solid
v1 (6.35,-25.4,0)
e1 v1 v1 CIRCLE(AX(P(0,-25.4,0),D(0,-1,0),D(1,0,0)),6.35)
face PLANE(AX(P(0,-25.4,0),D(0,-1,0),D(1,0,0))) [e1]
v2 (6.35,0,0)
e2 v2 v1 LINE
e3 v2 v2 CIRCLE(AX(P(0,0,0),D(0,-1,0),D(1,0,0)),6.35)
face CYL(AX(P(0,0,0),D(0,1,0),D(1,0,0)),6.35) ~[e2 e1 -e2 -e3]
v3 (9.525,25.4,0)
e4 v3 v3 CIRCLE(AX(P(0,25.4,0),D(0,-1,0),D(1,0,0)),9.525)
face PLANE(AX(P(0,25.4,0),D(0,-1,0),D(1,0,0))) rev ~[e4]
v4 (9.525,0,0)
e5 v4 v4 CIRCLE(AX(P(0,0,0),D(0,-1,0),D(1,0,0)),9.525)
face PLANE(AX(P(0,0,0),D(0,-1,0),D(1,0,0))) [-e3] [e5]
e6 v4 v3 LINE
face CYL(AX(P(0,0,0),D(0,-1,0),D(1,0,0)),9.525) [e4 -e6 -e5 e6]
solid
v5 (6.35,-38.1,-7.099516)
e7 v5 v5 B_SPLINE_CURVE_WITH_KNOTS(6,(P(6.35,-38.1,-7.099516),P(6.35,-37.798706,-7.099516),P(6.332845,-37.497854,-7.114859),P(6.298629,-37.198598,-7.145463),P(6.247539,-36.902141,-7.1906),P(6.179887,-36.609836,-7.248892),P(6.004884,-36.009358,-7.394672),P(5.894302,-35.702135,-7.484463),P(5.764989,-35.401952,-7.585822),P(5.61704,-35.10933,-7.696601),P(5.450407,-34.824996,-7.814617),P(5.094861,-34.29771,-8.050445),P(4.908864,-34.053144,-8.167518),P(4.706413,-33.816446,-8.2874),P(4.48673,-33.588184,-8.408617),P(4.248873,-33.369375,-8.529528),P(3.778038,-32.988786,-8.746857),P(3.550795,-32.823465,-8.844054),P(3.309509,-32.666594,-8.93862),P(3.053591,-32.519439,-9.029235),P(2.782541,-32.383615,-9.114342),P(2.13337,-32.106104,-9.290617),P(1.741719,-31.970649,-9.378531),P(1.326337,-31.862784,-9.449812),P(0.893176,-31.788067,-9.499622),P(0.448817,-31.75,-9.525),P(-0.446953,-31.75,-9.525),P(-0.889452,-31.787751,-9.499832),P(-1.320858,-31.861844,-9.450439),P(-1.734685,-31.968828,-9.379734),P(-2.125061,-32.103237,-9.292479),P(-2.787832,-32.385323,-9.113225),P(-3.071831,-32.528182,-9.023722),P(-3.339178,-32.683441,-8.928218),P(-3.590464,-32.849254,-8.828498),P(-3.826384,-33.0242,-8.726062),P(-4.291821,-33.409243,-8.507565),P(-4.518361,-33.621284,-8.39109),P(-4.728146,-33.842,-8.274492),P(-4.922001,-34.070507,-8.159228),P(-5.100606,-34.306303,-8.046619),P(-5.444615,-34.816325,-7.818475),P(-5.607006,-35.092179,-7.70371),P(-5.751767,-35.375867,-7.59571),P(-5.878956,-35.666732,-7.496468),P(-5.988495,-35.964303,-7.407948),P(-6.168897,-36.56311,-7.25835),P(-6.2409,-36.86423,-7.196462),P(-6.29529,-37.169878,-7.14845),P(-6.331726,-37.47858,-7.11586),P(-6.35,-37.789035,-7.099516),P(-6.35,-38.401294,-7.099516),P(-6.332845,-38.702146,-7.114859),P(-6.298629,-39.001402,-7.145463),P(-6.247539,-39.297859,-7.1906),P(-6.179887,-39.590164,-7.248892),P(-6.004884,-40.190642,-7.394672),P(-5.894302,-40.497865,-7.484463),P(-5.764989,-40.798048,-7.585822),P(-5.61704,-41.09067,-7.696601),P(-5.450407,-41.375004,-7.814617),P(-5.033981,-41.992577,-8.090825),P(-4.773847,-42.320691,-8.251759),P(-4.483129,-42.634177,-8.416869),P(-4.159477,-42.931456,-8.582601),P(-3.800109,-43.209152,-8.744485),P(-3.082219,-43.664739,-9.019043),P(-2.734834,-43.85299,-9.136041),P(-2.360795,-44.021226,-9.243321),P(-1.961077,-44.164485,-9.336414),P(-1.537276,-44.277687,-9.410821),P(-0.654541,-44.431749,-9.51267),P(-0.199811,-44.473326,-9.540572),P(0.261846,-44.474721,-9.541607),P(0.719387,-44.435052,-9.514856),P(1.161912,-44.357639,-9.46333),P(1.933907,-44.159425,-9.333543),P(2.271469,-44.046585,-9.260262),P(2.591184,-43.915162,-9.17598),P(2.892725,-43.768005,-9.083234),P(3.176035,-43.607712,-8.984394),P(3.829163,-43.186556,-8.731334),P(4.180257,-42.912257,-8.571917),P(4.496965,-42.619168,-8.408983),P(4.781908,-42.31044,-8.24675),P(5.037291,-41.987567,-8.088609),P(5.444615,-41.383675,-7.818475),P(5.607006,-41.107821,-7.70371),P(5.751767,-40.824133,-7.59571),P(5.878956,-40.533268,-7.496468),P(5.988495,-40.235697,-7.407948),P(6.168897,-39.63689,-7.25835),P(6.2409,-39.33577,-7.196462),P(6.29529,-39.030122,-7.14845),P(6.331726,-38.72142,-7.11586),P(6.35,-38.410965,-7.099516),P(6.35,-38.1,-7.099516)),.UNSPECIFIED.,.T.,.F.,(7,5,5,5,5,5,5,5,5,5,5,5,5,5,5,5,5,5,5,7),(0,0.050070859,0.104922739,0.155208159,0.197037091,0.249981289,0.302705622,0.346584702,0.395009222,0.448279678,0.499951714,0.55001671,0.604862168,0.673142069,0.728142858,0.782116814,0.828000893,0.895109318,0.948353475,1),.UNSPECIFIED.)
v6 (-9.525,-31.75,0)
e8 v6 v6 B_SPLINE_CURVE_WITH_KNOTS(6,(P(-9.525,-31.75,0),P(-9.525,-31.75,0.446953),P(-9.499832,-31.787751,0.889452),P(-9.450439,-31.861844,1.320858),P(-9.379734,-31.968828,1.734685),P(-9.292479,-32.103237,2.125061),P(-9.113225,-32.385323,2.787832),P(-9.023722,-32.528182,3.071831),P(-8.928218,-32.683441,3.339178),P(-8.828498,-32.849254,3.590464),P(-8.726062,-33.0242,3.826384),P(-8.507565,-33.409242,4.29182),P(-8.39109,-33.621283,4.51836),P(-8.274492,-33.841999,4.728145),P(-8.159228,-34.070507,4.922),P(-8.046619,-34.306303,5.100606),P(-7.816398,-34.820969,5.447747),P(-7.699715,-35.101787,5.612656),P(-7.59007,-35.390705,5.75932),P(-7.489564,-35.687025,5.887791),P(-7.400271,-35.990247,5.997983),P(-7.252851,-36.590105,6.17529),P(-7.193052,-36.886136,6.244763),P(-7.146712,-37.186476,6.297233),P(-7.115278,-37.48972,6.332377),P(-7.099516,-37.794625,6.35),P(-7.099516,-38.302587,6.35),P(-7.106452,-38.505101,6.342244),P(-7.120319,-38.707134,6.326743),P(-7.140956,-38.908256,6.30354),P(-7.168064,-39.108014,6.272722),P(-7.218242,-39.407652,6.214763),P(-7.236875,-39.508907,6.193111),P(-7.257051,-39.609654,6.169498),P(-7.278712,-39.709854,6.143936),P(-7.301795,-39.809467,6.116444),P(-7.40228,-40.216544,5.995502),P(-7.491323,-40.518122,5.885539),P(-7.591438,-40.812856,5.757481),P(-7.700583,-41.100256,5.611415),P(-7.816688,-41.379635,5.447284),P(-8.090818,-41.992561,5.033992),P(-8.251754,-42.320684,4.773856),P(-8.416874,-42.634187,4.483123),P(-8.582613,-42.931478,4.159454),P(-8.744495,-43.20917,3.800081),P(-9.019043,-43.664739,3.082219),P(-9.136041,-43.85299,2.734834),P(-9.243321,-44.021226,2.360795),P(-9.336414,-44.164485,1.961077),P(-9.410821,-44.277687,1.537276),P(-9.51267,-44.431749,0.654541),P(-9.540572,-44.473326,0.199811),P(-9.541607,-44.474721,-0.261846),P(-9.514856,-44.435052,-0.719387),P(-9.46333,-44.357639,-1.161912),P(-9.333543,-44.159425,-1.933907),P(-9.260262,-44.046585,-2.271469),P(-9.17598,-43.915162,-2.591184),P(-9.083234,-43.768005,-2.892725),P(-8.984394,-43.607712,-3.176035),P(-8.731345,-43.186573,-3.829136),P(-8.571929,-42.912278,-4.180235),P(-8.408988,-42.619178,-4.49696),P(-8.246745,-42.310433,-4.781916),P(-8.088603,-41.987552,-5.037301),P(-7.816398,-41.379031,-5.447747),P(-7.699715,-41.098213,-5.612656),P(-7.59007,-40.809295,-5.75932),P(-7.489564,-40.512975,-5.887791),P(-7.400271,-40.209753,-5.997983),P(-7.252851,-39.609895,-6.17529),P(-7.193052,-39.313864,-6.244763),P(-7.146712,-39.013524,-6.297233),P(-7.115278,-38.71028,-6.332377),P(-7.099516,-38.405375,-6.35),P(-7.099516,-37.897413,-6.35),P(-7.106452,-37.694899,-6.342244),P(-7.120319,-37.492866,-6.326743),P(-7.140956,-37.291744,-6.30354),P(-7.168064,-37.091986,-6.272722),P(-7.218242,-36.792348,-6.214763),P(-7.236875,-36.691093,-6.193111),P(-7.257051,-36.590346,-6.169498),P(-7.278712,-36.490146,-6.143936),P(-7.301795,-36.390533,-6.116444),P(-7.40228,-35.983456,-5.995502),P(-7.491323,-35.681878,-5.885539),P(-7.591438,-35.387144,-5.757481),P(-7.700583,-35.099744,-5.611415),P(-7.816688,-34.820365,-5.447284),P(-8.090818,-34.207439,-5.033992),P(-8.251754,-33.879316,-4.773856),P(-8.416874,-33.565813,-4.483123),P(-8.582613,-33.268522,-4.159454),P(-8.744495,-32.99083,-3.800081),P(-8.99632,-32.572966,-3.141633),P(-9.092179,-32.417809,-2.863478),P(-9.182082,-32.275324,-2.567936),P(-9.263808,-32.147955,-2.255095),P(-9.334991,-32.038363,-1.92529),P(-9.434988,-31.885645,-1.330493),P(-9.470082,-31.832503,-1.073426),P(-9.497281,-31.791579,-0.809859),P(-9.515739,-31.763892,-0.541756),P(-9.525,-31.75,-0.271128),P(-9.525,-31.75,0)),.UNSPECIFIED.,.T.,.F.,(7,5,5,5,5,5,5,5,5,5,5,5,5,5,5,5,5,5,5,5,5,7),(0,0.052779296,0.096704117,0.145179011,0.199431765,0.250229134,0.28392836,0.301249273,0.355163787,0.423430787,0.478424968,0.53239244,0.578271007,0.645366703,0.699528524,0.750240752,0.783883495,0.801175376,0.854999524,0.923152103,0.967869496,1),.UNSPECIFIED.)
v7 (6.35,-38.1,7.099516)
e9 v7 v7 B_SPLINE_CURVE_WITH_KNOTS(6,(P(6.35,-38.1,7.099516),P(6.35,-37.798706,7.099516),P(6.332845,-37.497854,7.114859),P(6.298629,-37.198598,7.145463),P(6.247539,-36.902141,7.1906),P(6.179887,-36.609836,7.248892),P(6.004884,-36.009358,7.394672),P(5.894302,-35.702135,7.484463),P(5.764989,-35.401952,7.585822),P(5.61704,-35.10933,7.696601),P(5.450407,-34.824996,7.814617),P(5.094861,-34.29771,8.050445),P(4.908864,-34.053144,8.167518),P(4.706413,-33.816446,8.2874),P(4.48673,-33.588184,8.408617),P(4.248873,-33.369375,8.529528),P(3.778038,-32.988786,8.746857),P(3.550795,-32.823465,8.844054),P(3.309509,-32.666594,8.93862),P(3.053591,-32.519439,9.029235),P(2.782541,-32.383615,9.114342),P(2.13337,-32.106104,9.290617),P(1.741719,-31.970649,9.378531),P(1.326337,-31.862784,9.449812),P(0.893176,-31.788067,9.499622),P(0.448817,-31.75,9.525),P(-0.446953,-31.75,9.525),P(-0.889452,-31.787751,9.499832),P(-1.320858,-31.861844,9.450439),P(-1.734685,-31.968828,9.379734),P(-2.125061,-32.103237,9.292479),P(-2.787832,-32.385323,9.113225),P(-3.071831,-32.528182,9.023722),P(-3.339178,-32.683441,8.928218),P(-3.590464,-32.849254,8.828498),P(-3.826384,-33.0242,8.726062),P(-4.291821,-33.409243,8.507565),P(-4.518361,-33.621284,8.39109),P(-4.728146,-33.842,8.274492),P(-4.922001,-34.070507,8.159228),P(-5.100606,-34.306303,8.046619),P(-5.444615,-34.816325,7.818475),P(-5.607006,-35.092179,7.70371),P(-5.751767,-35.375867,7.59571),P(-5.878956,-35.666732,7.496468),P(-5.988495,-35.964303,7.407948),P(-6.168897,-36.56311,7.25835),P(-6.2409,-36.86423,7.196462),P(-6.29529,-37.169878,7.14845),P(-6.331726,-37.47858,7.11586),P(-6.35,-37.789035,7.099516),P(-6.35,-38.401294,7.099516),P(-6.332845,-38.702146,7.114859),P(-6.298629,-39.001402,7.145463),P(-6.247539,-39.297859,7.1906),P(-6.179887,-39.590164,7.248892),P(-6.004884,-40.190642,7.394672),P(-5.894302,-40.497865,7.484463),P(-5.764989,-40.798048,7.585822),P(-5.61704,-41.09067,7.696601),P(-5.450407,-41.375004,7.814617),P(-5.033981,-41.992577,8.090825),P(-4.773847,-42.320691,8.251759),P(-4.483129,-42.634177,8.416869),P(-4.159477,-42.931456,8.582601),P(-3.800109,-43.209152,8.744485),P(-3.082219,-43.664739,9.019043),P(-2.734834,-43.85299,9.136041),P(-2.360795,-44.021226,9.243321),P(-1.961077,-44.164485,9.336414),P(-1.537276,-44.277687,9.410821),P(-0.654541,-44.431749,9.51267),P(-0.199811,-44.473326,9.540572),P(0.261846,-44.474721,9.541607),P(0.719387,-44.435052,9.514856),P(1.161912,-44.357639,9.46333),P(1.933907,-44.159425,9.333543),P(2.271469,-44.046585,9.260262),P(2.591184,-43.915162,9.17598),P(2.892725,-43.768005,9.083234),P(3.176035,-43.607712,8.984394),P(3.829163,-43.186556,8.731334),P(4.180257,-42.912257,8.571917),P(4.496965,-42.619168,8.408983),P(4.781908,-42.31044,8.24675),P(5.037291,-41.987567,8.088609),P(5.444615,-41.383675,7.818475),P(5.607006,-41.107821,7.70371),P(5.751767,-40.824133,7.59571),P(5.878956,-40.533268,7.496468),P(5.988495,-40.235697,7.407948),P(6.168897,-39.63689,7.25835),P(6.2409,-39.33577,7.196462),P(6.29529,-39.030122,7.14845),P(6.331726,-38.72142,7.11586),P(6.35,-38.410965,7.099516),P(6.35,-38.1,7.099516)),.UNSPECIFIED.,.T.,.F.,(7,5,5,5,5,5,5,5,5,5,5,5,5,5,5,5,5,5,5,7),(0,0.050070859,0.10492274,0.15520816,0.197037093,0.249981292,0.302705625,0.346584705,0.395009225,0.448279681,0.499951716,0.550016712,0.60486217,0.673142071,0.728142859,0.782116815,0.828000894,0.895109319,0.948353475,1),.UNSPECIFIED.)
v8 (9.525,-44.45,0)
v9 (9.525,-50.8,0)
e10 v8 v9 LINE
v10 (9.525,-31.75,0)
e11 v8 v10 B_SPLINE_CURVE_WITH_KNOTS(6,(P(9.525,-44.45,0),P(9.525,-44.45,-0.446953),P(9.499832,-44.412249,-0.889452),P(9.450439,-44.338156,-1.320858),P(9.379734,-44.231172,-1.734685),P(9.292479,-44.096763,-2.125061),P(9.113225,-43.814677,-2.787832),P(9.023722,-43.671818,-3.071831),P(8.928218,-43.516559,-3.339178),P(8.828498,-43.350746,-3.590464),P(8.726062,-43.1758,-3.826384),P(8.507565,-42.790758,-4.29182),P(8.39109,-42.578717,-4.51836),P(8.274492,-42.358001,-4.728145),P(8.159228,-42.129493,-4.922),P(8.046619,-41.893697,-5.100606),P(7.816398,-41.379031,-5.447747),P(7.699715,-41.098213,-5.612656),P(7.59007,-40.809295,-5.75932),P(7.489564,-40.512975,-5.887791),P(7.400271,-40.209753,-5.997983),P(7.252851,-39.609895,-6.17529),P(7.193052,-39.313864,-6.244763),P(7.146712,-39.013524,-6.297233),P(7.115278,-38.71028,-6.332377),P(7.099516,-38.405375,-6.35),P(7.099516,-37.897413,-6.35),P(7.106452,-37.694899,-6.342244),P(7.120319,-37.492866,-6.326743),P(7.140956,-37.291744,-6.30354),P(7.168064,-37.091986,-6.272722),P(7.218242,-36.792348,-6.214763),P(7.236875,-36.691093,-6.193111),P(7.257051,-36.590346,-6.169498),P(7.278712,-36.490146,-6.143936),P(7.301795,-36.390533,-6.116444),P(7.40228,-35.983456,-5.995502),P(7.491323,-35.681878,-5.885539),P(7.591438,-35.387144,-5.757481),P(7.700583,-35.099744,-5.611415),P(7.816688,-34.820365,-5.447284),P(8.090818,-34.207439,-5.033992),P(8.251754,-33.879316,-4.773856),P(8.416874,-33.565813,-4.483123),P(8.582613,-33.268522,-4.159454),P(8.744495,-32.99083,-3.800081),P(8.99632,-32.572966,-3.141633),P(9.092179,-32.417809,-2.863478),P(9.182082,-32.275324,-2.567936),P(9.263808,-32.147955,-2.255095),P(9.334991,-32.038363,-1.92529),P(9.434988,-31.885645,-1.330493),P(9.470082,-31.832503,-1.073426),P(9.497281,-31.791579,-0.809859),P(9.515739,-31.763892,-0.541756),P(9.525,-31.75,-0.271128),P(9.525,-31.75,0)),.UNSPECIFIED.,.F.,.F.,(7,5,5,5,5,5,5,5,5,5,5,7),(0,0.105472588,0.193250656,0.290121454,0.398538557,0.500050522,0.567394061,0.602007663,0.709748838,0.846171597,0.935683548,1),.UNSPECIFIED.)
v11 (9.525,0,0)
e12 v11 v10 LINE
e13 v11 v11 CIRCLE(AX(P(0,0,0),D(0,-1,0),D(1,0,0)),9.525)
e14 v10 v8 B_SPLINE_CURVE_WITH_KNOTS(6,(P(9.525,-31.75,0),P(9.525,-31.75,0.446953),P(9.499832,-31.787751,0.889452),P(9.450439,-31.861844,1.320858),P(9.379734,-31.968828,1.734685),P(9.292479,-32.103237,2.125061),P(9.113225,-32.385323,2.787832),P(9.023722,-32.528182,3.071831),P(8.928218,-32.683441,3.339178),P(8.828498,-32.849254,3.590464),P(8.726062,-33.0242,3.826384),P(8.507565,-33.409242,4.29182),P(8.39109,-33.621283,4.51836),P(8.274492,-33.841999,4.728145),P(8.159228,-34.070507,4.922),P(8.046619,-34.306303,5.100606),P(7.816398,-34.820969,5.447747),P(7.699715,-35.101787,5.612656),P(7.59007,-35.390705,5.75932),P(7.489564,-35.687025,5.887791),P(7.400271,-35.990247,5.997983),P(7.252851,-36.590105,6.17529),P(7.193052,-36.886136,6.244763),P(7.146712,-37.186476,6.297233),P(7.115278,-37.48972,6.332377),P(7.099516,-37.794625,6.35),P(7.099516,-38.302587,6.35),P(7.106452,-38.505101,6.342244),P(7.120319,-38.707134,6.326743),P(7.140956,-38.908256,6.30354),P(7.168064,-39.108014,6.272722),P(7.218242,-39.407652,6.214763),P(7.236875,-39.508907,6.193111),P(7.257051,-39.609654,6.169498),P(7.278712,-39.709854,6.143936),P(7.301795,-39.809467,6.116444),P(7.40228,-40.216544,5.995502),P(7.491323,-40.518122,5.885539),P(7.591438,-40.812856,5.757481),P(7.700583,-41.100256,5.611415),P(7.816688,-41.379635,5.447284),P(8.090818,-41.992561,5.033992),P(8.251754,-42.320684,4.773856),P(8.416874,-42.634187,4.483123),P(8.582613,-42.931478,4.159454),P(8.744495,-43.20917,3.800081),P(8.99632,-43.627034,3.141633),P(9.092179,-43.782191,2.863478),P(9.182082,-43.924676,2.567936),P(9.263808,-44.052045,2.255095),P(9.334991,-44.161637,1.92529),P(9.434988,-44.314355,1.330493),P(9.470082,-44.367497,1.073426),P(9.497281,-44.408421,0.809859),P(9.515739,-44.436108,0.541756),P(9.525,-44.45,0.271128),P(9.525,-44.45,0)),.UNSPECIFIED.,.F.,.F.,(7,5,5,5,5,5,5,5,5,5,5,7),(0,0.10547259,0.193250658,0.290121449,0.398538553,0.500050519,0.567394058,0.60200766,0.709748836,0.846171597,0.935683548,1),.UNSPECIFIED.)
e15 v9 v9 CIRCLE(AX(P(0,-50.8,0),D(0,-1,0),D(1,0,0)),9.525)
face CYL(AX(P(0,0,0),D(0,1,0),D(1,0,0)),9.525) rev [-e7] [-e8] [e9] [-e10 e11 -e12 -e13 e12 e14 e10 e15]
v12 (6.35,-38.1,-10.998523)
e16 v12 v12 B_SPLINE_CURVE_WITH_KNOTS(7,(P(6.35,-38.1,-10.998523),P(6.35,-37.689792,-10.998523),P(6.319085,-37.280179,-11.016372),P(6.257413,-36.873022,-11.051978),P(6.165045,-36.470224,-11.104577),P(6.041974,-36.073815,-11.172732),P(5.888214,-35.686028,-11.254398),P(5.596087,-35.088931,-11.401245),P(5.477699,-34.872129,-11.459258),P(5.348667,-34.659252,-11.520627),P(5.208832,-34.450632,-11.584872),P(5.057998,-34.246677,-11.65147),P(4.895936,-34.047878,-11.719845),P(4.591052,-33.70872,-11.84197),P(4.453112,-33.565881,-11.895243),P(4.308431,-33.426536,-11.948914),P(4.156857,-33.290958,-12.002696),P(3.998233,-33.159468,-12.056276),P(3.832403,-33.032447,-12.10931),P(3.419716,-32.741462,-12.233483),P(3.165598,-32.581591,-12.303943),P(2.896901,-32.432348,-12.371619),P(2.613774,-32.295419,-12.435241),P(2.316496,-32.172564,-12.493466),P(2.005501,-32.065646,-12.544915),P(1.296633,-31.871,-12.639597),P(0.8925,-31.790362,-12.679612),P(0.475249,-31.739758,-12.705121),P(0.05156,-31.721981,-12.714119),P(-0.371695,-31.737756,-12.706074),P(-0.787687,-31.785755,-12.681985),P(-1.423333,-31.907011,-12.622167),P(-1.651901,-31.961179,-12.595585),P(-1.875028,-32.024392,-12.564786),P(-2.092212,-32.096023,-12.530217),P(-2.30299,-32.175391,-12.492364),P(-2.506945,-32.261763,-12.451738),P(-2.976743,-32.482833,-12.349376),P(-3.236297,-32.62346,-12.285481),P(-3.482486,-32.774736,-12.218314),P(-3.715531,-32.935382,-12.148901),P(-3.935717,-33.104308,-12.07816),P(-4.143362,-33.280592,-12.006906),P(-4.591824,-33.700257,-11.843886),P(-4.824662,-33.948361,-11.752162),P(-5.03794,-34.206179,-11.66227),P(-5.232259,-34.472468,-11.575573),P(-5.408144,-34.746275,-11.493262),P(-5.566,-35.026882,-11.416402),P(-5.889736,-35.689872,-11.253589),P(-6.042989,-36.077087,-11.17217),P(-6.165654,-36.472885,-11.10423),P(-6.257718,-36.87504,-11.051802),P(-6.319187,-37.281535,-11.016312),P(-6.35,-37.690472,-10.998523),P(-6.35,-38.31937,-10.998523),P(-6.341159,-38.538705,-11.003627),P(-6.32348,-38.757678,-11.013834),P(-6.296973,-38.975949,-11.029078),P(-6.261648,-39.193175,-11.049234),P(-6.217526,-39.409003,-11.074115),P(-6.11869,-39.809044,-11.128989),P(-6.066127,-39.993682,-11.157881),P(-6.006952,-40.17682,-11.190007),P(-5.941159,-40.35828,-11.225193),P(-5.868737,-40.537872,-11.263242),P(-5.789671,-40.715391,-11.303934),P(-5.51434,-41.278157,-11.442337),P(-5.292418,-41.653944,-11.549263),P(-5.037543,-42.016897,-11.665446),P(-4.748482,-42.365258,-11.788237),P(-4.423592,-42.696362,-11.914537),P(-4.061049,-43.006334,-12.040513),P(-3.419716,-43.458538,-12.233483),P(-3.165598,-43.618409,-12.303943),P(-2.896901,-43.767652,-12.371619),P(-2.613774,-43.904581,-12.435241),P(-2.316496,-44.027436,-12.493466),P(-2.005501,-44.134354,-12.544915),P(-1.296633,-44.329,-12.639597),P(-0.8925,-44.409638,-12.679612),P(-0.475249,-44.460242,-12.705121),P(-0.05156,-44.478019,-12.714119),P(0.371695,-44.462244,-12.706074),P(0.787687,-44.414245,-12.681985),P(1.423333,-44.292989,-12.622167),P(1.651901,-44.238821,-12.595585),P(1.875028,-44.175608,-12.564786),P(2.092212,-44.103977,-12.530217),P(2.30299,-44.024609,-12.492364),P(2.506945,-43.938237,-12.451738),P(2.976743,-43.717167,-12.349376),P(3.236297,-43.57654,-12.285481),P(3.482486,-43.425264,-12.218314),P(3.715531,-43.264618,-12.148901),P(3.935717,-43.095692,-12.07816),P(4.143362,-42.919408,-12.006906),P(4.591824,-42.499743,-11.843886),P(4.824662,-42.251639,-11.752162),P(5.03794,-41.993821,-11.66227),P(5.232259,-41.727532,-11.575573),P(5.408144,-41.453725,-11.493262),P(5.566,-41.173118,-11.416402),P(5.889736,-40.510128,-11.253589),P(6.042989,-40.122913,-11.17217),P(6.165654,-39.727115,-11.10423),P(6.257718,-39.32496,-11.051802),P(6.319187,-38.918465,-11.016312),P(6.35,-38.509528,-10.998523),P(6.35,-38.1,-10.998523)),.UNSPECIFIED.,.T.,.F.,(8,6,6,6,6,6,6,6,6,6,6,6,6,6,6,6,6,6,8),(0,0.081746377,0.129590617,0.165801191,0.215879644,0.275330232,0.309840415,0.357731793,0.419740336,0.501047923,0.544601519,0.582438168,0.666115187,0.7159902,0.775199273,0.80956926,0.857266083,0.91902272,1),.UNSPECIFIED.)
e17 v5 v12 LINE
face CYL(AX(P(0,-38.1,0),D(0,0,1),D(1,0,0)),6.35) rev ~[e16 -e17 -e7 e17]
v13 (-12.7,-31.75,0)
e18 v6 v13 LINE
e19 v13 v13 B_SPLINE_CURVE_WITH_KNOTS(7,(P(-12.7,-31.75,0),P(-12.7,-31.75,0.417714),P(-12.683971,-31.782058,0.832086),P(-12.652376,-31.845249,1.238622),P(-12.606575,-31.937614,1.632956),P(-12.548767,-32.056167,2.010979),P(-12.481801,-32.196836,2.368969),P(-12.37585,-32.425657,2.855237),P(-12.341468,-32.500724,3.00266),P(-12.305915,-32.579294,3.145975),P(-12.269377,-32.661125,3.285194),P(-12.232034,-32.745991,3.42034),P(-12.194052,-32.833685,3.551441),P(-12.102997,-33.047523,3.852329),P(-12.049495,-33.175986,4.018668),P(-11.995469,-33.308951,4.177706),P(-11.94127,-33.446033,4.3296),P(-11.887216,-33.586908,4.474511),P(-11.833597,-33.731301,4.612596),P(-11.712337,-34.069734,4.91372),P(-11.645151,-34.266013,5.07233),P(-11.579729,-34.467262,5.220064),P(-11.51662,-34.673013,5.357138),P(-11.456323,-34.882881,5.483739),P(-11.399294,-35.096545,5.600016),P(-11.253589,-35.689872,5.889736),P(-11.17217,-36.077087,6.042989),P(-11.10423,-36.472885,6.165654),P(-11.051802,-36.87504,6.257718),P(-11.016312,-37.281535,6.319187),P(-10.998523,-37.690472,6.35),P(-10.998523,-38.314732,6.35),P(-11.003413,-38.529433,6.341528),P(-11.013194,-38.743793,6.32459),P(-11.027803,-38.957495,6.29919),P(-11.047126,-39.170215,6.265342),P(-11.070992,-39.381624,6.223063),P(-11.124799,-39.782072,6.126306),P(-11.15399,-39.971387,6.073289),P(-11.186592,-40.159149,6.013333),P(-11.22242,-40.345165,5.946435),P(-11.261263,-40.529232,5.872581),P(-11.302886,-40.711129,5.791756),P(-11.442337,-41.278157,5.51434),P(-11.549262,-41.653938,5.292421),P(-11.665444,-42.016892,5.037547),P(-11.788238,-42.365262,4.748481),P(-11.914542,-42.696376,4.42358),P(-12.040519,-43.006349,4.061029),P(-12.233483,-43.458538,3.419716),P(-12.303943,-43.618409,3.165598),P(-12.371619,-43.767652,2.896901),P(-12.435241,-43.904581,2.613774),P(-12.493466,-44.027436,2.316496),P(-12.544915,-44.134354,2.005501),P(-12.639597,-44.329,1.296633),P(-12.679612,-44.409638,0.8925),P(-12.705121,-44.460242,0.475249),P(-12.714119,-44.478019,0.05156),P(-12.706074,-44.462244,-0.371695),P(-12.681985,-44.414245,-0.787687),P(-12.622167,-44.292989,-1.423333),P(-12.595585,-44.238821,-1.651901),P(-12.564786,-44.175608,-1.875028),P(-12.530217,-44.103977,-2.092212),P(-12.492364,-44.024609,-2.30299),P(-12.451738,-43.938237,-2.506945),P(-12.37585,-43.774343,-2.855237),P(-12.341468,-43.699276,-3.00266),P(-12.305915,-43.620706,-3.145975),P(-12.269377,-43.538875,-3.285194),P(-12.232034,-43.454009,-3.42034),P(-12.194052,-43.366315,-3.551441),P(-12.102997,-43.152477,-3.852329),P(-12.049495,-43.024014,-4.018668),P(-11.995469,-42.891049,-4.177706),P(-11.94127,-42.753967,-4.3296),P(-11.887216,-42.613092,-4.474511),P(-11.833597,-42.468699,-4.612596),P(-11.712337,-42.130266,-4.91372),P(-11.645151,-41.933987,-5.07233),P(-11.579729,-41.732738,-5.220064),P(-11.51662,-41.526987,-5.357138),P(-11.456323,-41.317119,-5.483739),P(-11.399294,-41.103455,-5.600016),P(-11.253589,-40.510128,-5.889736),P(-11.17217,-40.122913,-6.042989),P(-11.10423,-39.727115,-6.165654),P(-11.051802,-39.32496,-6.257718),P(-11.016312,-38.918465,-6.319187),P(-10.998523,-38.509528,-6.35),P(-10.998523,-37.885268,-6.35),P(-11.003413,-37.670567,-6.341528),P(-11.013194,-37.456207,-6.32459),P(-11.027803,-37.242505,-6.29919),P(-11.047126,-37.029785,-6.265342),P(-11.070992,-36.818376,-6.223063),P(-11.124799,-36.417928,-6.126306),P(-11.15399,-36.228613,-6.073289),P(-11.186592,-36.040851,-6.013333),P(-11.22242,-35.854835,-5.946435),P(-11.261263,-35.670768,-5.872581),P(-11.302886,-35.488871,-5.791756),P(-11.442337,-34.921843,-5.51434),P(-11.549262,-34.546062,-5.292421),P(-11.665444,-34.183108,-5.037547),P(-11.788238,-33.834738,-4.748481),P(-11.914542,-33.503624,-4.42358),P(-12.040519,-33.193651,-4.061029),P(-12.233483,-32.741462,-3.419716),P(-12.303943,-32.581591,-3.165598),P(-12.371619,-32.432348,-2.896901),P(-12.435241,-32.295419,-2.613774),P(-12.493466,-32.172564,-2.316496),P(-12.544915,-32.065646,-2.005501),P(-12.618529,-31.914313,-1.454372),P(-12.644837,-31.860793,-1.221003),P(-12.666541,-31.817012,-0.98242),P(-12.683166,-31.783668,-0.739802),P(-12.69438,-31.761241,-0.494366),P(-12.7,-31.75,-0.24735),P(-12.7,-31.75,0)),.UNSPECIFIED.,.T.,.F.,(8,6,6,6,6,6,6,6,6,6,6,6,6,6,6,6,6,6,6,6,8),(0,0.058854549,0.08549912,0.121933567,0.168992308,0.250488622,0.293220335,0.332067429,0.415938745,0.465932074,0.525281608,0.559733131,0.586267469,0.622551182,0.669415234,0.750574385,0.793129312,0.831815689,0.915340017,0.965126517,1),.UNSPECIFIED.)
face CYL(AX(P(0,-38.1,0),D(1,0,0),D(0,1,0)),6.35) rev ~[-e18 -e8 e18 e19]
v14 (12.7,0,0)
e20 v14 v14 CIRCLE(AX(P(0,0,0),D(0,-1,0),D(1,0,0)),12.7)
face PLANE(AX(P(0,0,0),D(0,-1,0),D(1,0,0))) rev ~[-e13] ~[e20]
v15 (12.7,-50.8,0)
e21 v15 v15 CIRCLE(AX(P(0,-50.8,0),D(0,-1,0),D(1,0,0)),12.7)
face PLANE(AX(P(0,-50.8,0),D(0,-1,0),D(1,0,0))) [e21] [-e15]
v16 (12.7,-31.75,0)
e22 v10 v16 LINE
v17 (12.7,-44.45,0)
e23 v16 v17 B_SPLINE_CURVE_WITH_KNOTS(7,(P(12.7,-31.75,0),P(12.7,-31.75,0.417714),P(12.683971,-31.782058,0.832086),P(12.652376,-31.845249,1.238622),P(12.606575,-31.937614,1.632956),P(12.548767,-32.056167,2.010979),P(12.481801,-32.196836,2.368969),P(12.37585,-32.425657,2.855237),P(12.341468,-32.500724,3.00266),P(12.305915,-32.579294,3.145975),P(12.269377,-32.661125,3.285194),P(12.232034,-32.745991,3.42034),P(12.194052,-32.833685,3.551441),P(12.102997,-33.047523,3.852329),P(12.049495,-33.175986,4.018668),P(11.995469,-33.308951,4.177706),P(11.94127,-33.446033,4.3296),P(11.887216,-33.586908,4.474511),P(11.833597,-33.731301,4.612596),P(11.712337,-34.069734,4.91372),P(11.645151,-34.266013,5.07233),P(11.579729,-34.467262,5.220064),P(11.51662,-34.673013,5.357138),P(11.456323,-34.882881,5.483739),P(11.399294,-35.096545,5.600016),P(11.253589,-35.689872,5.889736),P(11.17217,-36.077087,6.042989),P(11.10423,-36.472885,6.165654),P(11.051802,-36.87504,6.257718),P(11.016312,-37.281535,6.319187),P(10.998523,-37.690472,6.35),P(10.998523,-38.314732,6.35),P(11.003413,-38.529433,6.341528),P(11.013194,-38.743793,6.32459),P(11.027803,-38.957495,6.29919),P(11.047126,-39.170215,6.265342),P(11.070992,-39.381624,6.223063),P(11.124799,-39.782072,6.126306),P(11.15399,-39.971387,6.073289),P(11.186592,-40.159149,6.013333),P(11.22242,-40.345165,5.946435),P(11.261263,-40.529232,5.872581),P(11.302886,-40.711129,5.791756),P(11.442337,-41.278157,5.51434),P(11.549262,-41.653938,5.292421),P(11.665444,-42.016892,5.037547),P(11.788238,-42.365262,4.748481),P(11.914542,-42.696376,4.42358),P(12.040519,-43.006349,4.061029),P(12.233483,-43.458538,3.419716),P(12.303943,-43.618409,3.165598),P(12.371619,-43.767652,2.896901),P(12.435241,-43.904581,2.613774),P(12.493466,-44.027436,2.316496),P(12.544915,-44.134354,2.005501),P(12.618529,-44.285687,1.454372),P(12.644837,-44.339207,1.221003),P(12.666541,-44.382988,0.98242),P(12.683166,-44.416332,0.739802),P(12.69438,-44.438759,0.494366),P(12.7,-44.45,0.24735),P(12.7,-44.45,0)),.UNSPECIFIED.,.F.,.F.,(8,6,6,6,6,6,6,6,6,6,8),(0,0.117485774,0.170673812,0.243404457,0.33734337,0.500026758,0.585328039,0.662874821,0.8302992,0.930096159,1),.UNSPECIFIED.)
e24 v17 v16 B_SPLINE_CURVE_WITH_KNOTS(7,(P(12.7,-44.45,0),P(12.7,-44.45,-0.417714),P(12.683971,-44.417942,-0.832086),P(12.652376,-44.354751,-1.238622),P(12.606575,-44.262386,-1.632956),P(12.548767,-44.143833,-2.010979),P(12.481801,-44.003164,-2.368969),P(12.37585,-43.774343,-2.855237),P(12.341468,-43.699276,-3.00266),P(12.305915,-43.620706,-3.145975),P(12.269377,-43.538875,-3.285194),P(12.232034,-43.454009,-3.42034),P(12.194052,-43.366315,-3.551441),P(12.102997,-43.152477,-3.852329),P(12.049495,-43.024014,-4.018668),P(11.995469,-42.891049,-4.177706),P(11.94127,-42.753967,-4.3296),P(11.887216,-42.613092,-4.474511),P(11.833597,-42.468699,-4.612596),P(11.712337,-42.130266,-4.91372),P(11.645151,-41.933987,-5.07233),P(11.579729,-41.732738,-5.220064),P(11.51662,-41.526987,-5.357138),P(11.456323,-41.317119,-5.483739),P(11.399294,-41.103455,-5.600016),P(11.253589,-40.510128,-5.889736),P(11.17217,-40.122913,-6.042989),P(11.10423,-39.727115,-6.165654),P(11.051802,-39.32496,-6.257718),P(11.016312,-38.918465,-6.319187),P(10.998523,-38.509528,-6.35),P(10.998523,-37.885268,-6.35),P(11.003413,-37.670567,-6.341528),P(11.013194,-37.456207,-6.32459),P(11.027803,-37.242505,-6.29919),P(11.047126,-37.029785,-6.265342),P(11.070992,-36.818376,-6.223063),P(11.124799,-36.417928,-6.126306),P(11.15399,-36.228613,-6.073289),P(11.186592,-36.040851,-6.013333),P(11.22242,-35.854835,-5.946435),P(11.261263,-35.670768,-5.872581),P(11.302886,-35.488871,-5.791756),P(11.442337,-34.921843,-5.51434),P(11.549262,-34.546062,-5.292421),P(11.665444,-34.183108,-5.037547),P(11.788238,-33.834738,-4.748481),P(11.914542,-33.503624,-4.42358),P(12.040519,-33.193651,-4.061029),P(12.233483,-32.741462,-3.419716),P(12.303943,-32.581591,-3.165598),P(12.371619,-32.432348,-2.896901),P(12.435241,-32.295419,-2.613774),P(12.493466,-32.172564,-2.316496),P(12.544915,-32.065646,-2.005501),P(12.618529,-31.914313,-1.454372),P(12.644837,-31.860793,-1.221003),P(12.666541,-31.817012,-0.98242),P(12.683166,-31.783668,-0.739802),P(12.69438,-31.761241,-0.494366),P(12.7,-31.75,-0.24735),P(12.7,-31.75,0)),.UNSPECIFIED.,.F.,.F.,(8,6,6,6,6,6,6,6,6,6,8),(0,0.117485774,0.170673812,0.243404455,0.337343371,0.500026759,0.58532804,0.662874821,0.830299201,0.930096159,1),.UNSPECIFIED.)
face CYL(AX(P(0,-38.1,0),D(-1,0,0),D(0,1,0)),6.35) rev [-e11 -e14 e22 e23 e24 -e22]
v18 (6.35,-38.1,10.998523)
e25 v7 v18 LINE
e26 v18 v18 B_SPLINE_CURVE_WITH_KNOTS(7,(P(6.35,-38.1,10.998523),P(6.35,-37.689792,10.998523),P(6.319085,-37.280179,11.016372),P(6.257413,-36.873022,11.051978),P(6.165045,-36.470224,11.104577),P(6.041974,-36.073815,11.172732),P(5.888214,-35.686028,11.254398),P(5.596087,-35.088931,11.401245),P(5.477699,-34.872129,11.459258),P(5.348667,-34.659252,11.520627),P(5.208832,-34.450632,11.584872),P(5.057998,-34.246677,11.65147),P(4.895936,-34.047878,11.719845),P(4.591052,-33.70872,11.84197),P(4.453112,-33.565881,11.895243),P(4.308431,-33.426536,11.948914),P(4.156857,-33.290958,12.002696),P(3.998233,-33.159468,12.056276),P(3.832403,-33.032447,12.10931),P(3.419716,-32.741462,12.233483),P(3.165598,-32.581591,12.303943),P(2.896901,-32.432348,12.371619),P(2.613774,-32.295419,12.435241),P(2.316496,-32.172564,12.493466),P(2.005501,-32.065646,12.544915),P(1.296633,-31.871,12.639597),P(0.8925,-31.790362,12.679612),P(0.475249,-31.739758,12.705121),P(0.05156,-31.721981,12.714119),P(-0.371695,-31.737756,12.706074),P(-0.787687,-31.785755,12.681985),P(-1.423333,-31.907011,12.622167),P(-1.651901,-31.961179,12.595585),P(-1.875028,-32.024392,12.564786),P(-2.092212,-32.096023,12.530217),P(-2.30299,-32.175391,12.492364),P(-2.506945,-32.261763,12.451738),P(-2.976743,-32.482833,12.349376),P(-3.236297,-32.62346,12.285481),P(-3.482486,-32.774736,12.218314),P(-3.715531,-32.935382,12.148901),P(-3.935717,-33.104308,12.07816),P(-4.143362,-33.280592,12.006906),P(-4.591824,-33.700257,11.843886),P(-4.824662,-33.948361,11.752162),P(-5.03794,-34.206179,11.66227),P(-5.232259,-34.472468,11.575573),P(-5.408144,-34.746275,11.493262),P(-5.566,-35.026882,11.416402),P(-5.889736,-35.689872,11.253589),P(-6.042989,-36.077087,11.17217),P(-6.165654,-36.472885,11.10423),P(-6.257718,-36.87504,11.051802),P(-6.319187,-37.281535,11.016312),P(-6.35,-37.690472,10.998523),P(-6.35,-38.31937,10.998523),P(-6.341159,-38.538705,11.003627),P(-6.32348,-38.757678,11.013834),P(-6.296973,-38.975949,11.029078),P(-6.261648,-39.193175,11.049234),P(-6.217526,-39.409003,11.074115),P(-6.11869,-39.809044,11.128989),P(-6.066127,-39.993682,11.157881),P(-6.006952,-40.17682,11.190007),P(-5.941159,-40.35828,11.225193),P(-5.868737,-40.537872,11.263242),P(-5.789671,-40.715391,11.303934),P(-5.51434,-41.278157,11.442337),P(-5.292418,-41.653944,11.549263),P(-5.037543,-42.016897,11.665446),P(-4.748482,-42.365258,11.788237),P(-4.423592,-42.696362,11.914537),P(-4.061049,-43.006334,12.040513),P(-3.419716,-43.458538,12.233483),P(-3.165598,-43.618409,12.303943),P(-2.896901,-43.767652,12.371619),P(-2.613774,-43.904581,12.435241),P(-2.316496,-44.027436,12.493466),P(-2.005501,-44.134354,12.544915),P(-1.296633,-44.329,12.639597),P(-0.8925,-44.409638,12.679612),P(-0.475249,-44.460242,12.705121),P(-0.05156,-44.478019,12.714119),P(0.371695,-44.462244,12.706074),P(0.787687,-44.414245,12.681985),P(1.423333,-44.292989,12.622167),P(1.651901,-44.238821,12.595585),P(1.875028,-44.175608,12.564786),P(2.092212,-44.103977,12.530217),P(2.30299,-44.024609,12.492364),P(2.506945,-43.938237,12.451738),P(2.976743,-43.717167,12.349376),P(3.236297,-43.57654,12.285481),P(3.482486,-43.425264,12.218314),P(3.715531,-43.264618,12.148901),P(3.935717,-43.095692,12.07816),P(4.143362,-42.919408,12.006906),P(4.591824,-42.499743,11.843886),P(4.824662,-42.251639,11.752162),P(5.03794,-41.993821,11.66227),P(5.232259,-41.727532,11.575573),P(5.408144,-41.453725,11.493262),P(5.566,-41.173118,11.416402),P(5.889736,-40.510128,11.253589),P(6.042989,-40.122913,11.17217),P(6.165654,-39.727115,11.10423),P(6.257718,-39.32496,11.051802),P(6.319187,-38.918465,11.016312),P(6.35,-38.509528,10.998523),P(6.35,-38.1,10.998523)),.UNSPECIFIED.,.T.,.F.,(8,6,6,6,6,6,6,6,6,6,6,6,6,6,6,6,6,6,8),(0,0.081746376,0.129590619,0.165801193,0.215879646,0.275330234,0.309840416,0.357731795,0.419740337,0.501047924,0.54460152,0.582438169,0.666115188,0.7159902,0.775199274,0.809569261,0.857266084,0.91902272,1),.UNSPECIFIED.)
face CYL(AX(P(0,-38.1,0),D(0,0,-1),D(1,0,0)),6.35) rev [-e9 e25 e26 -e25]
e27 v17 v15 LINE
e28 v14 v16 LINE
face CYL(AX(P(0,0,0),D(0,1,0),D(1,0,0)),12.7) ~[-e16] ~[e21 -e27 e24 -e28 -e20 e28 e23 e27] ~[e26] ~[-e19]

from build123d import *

# Parameters (mm, degrees)
F0_R          = 12.7
F0_R_2        = 9.525
F1_DEPTH      = 50.8
F2_R          = 6.35
F3_DEPTH      = 12.701
F3_DEPTH_BACK = 12.701
F4_R          = 6.35
F5_DEPTH      = 12.701
F5_DEPTH_BACK = 12.701
F0_R_3        = 6.35
F6_DEPTH      = 25.4
F7_DEPTH      = 25.4


with BuildPart() as f1:
    # F0 (on Front) → F1 (new body)
    with BuildSketch(Plane.XZ):
        Circle(F0_R)
        Circle(F0_R_2, mode=Mode.SUBTRACT)
    extrude(amount=F1_DEPTH)

    # F2 (on Right) → F3 (cut, two sides)
    with BuildSketch(Plane.YZ) as f3_sk:
        with Locations((-38.1, 0)):
            Circle(F2_R)
    extrude(amount=F3_DEPTH, mode=Mode.SUBTRACT)
    extrude(f3_sk.sketch, amount=-F3_DEPTH_BACK, mode=Mode.SUBTRACT)

    # F4 (on Top) → F5 (cut, two sides)
    with BuildSketch(Plane.XY) as f5_sk:
        with Locations((0, -38.1)):
            Circle(F4_R)
    extrude(amount=F5_DEPTH, mode=Mode.SUBTRACT)
    extrude(f5_sk.sketch, amount=-F5_DEPTH_BACK, mode=Mode.SUBTRACT)


with BuildPart() as f6:
    # F0 (on Front) → F6 (new body)
    with BuildSketch(Plane.XZ):
        Circle(F0_R_2)
        Circle(F0_R_3, mode=Mode.SUBTRACT)
        Circle(F0_R_3)
    extrude(amount=-F6_DEPTH)

    # F0 (on Front) → F7 (join)
    with BuildSketch(Plane.XZ):
        Circle(F0_R_3)
    extrude(amount=F7_DEPTH)


solid = Compound([f1.part, f6.part])
